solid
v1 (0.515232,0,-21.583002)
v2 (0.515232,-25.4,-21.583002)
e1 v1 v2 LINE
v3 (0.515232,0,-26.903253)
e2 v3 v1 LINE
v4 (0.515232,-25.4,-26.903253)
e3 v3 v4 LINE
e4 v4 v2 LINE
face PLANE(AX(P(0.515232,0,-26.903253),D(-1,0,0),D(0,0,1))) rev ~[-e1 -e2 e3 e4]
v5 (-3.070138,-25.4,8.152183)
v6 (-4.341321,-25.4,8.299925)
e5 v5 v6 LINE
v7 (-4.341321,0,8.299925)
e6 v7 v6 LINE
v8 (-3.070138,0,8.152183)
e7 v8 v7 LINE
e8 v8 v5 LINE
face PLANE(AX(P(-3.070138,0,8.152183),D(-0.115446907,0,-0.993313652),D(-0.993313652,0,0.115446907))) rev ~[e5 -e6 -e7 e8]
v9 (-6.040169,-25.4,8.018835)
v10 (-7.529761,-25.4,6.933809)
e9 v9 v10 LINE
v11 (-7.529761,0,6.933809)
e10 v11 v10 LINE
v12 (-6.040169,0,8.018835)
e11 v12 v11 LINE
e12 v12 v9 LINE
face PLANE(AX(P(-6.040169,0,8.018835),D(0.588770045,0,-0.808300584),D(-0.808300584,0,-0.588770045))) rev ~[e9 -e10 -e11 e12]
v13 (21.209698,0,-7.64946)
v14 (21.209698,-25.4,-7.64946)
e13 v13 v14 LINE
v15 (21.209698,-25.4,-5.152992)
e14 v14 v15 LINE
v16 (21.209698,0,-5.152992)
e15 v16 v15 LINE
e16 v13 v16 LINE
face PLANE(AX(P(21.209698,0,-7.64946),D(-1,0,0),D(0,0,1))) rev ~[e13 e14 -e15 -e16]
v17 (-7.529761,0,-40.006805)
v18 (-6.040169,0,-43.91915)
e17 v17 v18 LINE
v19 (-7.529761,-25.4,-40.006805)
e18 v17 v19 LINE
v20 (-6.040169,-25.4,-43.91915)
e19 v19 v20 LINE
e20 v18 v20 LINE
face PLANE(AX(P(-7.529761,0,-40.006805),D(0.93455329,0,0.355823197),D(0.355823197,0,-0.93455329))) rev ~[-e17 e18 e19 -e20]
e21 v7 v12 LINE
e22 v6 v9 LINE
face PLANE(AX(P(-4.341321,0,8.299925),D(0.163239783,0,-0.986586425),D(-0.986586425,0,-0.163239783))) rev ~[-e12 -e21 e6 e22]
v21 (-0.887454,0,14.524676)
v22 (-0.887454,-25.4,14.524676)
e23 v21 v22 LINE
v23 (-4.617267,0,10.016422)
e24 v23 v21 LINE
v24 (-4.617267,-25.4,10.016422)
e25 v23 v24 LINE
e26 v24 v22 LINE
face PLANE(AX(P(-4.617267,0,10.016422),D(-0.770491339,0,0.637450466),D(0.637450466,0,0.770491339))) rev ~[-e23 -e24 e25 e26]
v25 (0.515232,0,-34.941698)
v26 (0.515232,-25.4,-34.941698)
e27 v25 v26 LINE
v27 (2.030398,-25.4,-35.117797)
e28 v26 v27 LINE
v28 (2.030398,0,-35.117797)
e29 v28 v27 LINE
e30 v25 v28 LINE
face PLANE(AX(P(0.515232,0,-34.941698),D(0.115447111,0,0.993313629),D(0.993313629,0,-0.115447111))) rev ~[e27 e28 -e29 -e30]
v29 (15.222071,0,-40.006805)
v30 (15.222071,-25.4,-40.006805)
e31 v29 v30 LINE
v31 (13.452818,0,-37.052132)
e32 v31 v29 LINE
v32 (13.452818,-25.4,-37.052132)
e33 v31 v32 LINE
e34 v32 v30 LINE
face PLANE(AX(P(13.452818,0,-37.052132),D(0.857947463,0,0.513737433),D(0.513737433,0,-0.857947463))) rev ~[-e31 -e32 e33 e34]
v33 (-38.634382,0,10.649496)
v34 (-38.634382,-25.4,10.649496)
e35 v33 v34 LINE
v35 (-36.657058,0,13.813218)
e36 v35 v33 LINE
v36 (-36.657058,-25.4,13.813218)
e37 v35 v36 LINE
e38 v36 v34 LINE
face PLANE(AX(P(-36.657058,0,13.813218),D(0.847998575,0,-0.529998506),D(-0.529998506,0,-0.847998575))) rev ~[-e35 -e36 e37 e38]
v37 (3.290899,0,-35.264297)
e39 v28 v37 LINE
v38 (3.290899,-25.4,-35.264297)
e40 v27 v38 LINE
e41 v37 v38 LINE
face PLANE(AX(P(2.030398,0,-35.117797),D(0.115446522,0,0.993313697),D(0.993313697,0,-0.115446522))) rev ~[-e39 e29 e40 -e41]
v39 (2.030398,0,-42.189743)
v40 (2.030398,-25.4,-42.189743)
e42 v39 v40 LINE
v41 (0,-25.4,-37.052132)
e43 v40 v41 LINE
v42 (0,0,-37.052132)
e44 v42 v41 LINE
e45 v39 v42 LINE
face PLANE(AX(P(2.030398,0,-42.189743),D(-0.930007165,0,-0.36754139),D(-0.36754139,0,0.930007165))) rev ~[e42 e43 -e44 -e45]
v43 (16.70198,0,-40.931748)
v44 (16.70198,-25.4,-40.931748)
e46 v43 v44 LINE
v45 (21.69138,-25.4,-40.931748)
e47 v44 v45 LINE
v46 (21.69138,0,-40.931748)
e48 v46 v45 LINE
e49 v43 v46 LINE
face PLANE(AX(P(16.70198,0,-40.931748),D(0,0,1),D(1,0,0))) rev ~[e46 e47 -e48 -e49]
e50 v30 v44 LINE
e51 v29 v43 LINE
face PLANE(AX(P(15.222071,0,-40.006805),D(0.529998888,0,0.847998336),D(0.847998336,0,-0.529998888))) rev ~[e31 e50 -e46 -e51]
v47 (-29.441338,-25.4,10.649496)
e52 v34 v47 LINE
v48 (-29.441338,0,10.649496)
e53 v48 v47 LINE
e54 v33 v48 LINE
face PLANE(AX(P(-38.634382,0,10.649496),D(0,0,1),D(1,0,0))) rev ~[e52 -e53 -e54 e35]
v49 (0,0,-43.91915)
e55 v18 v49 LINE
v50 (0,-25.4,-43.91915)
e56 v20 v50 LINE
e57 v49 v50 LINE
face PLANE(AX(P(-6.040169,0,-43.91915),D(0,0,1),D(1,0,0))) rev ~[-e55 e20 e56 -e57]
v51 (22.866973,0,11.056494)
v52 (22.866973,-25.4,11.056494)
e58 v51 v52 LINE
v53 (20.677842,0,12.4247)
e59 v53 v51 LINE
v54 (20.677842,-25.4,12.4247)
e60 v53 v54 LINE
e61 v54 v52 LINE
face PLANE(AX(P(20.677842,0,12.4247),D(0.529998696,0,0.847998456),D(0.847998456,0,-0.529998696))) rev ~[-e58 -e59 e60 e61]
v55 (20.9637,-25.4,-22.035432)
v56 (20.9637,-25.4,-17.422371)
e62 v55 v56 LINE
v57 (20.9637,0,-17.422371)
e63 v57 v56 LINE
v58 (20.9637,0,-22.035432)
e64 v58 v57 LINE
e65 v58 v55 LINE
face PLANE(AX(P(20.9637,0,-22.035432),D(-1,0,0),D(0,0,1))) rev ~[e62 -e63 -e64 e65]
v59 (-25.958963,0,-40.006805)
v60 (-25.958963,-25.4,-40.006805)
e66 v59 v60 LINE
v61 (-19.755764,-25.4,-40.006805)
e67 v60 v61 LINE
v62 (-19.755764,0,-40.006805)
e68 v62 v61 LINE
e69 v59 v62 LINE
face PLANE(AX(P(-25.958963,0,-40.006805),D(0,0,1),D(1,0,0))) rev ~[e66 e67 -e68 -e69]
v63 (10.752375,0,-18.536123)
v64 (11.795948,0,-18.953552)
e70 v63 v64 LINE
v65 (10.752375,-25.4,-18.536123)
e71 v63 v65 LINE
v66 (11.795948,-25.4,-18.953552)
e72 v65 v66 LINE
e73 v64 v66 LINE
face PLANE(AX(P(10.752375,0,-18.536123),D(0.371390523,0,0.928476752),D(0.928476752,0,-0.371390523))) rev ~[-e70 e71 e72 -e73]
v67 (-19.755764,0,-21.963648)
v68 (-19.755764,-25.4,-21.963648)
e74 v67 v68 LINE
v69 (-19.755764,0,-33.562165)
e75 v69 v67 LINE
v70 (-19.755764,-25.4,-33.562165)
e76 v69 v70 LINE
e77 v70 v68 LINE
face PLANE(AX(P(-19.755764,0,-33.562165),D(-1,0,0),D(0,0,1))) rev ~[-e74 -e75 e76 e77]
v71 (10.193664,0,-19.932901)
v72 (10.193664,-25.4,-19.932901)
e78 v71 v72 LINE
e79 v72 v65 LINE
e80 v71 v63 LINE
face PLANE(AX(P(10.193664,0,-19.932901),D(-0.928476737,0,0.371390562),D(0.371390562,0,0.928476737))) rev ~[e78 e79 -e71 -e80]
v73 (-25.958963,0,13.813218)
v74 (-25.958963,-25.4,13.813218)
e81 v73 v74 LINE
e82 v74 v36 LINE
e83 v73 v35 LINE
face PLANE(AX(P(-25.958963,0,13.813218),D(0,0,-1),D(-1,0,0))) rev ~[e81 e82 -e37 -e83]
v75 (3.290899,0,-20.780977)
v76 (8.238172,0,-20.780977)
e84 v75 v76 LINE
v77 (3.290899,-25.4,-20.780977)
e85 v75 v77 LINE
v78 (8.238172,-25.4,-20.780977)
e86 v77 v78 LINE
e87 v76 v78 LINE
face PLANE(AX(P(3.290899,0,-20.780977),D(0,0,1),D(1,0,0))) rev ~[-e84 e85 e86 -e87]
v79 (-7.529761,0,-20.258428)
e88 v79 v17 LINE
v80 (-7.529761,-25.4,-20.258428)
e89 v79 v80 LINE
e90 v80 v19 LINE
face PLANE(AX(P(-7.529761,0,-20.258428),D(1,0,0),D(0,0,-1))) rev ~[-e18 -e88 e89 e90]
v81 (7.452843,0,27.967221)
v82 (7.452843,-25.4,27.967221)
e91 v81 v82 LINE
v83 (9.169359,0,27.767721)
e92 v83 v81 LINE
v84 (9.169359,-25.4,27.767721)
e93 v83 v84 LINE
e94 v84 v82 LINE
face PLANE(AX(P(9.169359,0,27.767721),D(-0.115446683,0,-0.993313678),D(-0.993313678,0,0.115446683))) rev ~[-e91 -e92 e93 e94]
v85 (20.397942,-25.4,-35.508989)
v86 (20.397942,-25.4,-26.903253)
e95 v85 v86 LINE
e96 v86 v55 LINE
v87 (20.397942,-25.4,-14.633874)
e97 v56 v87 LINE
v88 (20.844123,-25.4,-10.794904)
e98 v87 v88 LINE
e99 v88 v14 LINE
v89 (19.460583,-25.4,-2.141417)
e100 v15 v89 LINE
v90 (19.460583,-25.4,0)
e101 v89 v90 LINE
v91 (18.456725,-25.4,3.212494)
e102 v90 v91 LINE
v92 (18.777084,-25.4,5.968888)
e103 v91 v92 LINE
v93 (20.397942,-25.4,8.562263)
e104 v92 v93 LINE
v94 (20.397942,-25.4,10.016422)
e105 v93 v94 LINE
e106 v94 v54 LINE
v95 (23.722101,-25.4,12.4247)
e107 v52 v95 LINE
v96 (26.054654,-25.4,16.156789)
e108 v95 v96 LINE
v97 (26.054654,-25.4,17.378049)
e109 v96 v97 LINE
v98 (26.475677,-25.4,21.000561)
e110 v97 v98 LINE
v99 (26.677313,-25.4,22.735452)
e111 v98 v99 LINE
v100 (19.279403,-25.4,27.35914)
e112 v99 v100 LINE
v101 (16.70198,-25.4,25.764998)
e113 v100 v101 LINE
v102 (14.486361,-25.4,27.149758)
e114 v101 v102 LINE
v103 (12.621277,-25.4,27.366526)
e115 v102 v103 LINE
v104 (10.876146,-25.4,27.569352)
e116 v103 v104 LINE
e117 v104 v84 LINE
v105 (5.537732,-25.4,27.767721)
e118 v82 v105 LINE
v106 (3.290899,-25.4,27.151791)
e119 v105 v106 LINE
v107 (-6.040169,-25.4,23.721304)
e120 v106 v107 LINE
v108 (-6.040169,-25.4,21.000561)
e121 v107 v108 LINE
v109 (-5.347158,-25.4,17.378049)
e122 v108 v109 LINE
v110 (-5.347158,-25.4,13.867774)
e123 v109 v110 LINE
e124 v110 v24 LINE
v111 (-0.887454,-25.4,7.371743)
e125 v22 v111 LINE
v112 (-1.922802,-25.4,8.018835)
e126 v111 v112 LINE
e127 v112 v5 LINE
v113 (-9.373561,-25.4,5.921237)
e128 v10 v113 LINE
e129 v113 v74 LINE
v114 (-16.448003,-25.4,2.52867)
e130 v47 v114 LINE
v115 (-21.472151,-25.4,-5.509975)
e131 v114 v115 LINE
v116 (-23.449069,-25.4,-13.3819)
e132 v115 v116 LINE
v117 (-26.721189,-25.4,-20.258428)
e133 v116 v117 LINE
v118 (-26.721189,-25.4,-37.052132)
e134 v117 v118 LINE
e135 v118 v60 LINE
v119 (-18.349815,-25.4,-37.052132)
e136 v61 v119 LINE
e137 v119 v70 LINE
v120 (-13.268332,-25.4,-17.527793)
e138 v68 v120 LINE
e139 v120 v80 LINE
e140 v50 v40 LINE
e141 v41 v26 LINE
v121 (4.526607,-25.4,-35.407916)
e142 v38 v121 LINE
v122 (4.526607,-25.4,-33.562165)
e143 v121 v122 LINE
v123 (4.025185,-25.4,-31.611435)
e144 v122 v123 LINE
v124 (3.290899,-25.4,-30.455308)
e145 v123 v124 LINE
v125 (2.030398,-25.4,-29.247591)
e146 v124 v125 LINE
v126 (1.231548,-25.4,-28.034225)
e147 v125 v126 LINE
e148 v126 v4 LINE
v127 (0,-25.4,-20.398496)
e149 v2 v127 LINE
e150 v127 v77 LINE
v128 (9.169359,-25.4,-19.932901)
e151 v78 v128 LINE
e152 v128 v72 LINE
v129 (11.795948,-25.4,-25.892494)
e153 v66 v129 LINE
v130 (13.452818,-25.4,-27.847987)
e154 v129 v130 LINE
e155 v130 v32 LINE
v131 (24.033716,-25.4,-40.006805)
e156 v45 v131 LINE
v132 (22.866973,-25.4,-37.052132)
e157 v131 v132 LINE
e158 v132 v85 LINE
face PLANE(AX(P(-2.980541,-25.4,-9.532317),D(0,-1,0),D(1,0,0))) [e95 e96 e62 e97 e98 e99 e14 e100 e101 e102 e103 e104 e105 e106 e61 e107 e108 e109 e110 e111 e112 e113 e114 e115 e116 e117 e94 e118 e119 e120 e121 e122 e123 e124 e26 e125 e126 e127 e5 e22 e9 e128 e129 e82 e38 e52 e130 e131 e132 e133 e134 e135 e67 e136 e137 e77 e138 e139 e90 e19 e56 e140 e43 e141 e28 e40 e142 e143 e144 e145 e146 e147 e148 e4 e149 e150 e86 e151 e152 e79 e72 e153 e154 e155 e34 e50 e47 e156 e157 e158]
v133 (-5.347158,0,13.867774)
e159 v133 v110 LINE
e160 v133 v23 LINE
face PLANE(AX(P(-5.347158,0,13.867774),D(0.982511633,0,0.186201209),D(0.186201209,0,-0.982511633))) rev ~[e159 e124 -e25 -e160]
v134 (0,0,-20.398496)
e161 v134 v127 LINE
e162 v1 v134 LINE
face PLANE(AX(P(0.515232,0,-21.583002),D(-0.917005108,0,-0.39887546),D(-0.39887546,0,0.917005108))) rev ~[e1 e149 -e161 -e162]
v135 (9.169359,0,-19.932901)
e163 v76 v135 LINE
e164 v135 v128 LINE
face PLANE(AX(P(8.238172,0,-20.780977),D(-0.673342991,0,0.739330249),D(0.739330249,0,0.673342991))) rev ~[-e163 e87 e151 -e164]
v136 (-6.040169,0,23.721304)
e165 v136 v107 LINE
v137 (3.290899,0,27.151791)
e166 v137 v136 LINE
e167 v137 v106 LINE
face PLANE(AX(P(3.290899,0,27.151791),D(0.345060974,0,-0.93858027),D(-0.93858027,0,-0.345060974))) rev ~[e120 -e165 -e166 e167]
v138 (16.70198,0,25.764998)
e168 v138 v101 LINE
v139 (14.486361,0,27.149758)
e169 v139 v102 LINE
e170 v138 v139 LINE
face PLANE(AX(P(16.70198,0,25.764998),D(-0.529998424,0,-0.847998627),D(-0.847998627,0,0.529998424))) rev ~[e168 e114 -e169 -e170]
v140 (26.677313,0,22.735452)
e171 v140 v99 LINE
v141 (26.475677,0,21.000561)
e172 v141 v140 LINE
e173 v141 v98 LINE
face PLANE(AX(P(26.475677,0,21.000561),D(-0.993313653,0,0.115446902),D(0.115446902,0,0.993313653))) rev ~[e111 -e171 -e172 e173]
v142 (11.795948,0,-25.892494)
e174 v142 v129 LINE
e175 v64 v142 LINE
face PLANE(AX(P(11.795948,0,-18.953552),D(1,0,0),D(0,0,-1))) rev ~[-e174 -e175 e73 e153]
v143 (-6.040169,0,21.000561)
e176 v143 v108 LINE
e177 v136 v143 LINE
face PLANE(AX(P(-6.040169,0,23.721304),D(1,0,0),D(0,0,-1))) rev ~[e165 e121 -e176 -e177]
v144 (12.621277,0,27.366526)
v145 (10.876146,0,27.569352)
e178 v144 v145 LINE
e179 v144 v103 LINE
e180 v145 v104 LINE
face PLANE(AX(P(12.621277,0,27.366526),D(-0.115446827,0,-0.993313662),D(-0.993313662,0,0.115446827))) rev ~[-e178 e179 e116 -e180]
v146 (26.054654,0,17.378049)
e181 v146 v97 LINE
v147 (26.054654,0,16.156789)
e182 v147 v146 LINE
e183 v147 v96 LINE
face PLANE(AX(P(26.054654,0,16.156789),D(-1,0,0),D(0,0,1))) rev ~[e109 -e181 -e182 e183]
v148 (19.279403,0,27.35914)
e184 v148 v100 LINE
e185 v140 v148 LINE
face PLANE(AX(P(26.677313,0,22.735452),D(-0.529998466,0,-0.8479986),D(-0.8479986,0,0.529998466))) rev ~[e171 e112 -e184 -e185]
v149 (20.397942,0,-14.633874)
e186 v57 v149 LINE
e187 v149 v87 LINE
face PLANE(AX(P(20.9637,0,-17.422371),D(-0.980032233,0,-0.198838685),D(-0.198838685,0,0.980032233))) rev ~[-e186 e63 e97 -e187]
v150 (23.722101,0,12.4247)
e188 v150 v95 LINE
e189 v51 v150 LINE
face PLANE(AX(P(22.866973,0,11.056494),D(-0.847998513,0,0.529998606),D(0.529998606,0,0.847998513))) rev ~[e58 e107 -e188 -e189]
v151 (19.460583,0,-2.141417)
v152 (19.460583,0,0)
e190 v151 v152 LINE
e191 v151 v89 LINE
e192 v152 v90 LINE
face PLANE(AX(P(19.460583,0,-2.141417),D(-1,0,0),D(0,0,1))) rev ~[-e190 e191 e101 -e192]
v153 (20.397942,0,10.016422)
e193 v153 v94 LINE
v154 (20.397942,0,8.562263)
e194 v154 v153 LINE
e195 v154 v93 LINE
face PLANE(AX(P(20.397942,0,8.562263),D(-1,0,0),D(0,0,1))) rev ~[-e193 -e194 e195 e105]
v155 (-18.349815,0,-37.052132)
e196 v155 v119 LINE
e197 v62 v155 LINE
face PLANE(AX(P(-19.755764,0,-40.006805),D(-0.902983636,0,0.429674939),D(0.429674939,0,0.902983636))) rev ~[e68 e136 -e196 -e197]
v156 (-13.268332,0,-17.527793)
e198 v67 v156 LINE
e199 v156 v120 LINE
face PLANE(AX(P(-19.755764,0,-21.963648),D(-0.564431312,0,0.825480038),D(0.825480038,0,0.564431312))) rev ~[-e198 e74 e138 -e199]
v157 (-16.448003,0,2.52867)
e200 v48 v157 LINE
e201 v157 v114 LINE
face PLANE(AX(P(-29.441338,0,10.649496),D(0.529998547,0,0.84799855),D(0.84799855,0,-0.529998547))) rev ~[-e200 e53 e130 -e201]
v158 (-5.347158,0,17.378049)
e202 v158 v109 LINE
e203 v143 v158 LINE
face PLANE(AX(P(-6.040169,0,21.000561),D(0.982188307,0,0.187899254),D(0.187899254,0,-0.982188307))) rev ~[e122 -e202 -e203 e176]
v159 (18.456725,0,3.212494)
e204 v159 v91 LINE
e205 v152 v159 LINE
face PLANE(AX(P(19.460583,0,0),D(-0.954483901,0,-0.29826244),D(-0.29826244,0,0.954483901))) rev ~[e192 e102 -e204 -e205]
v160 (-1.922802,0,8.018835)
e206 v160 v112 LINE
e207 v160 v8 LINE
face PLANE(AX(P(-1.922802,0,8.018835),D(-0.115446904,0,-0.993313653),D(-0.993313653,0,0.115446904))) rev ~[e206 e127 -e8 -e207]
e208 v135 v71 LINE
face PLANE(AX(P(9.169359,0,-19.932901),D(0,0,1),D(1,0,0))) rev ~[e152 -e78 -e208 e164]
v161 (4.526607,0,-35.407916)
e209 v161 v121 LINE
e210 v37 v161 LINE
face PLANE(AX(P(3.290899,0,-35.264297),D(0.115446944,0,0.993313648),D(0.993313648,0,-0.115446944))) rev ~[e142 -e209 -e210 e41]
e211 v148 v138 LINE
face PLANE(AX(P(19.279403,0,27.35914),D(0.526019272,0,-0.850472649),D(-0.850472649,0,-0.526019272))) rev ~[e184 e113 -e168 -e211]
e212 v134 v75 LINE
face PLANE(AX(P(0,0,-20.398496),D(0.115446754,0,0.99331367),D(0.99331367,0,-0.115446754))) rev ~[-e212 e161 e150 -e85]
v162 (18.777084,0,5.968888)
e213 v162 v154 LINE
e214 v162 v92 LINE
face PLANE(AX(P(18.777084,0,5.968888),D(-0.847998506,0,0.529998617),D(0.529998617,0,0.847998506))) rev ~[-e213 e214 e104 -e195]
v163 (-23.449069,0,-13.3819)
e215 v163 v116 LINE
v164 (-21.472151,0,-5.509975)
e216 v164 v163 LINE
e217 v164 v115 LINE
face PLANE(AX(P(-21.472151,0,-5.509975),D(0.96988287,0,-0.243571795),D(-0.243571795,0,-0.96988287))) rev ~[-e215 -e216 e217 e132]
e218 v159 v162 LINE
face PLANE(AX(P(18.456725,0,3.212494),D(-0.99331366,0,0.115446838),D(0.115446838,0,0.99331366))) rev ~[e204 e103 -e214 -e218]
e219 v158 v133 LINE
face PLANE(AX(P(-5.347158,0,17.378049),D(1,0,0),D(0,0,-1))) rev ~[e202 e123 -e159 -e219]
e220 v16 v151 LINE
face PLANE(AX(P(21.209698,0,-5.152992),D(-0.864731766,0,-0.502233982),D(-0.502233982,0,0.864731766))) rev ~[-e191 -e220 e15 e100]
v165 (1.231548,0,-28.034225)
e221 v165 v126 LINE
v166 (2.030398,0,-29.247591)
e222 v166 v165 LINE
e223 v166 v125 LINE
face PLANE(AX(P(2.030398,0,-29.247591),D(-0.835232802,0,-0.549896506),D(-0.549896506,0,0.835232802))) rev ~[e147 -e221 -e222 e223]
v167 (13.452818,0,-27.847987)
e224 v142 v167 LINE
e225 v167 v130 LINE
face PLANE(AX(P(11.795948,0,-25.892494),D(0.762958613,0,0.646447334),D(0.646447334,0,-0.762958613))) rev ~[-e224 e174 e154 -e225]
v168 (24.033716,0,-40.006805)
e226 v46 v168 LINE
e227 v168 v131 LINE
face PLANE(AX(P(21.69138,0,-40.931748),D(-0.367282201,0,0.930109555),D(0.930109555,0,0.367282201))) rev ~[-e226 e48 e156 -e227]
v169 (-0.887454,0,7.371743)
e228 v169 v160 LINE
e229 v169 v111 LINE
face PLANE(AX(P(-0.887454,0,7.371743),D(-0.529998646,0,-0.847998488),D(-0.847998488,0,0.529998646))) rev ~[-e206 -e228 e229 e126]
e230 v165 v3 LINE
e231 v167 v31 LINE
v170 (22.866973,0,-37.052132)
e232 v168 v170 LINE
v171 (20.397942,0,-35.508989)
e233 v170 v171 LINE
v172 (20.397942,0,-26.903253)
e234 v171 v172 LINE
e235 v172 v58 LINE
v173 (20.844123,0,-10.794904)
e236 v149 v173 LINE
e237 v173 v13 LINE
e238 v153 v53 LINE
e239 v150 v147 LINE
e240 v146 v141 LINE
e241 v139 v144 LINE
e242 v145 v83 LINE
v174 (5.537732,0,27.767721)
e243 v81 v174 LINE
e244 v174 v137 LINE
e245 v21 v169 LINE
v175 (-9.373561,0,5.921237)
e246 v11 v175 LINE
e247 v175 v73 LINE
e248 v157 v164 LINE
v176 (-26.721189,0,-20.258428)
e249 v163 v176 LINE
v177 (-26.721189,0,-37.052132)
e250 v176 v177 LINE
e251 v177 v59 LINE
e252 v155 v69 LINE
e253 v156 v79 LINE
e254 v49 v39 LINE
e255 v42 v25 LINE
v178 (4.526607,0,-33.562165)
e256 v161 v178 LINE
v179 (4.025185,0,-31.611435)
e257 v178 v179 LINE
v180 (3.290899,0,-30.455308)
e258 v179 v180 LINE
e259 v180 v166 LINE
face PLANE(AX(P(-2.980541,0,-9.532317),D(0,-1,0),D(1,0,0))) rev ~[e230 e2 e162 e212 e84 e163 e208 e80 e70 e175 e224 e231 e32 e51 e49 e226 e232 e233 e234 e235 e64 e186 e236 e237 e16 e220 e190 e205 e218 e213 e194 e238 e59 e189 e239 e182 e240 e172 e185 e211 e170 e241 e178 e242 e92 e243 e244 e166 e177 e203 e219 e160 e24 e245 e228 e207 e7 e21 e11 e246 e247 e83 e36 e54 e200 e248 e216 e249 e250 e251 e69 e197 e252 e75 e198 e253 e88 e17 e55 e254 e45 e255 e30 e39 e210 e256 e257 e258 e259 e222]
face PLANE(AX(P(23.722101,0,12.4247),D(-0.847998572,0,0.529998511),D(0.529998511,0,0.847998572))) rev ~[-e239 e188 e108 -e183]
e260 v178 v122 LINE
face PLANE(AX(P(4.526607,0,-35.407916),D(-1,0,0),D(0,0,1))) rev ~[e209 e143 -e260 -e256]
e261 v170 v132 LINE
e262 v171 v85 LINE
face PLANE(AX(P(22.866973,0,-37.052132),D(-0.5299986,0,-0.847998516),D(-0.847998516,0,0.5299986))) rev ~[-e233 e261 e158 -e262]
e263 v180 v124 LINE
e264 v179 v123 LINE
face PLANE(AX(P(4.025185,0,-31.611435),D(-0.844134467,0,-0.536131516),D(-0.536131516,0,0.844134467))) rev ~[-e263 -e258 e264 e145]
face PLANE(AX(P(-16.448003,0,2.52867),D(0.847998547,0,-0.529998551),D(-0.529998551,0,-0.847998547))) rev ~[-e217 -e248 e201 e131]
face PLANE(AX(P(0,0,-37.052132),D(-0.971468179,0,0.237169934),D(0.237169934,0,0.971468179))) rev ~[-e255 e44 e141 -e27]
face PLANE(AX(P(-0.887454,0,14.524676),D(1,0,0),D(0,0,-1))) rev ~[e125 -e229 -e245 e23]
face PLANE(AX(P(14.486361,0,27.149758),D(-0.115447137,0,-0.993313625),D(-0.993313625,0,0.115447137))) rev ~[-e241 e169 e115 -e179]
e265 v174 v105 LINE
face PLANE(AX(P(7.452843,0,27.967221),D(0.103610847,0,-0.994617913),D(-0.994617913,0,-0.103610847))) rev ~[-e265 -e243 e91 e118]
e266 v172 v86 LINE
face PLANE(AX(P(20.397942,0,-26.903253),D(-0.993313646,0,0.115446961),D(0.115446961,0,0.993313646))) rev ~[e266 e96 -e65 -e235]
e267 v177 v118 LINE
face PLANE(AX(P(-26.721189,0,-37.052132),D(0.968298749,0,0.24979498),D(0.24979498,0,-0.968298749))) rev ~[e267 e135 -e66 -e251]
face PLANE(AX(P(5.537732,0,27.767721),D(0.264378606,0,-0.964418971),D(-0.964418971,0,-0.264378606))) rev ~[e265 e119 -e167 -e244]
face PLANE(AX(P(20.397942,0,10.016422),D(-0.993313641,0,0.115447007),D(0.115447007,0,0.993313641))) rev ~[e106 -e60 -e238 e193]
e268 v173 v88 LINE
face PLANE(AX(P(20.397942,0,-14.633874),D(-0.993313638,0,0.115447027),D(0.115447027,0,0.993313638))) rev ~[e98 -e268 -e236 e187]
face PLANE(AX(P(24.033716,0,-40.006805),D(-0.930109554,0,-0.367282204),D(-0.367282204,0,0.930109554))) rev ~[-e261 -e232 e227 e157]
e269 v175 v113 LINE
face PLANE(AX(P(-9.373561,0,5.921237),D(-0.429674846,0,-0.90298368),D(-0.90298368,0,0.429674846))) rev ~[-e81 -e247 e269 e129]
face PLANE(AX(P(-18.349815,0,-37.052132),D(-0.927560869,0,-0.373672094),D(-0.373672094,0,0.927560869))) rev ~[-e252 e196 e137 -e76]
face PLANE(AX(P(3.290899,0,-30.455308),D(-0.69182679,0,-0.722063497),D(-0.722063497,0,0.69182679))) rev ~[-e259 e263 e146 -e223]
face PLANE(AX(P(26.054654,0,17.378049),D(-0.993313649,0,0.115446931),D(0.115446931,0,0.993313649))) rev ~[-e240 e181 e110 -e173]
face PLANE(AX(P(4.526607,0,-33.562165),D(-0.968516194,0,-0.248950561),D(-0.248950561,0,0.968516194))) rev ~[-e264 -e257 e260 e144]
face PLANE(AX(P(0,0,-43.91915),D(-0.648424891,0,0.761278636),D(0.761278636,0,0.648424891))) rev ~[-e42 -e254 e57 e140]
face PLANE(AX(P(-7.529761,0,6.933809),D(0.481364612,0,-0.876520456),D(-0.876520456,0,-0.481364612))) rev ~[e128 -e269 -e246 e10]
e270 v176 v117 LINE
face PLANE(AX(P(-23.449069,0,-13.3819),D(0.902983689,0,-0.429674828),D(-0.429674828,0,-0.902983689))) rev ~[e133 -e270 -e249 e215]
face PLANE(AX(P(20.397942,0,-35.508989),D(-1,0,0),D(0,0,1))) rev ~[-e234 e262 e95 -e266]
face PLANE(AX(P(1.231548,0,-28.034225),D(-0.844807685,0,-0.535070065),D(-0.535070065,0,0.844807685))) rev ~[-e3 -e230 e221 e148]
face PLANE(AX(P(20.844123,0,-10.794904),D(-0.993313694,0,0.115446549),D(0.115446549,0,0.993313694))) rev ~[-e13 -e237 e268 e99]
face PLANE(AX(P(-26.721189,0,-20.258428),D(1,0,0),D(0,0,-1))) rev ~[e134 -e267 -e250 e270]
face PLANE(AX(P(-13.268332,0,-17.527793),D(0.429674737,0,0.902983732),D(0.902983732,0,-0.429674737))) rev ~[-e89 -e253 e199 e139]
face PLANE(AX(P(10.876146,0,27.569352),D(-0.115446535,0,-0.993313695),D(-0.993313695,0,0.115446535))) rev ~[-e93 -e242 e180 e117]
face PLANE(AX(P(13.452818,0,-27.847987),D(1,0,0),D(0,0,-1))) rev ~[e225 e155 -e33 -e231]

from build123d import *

# Parameters (mm, degrees)
F1_DEPTH = 25.4


with BuildPart() as f1:
    # F0 (on Front) → F1 (new body)
    with BuildSketch(Plane.XZ):
        Polygon((-36.657058, 13.813218), (-38.634382, 10.649496), (-29.441338, 10.649496), (-16.448003, 2.52867), (-21.472151, -5.509975), (-23.449069, -13.3819), (-26.721189, -20.258428), (-26.721189, -24.452301), (-26.721189, -37.052132), (-25.958963, -40.006805), (-19.755764, -40.006805), (-18.349815, -37.052132), (-19.755764, -33.562165), (-19.755764, -28.500162), (-19.755764, -21.963648), (-13.268332, -17.527793), (-7.529761, -20.258428), (-7.529761, -37.052132), (-7.529761, -40.006805), (-6.040169, -43.91915), (0, -43.91915), (2.030398, -42.189743), (0, -37.052132), (-0.887454, -32.503918), (-0.887454, -30.455308), (-0.887454, -28.034225), (0, -20.398496), (3.290899, -20.780977), (5.537732, -20.780977), (7.213868, -20.780977), (8.238172, -20.780977), (9.169359, -19.932901), (10.193664, -19.932901), (10.752375, -18.536123), (11.795948, -18.953552), (11.795948, -25.892494), (13.452818, -27.847987), (13.452818, -37.052132), (15.222071, -40.006805), (16.70198, -40.931748), (21.69138, -40.931748), (24.033716, -40.006805), (22.866973, -37.052132), (20.397942, -35.508989), (20.397942, -32.503918), (20.397942, -26.903253), (20.9637, -22.035432), (20.9637, -17.422371), (20.397942, -14.633874), (20.844123, -10.794904), (21.209698, -7.64946), (21.209698, -5.152992), (19.460583, -2.141417), (19.460583, 0), (18.456725, 3.212494), (18.777084, 5.968888), (20.397942, 8.562263), (20.397942, 10.016422), (20.677842, 12.4247), (22.866973, 11.056494), (23.722101, 12.4247), (26.054654, 16.156789), (26.054654, 17.378049), (26.475677, 21.000561), (26.677313, 22.735452), (19.279403, 27.35914), (16.70198, 25.764998), (14.486361, 27.149758), (12.621277, 27.366526), (10.876146, 27.569352), (9.169359, 27.767721), (7.452843, 27.967221), (5.537732, 27.767721), (3.290899, 27.151791), (-6.040169, 23.721304), (-6.040169, 21.000561), (-5.347158, 17.378049), (-5.347158, 13.867774), (-4.617267, 10.016422), (-0.887454, 14.524676), (-0.887454, 7.371743), (-1.922802, 8.018835), (-3.070138, 8.152183), (-4.341321, 8.299925), (-6.040169, 8.018835), (-7.529761, 6.933809), (-9.373561, 5.921237), (-25.958963, 13.813218), align=None)
        Polygon((-0.887454, -32.503918), (0, -37.052132), (0.515232, -34.941698), (2.030398, -35.117797), (3.290899, -35.264297), (4.526607, -35.407916), (4.526607, -34.476705), (4.526607, -33.562165), (4.025185, -31.611435), (3.290899, -30.455308), (2.030398, -29.247591), (1.231548, -28.034225), (0.515232, -26.903253), (0.515232, -24.878059), (0.515232, -23.517057), (0.515232, -21.583002), (0, -20.398496), (-0.887454, -28.034225), (-0.887454, -30.455308), align=None)
    extrude(amount=F1_DEPTH)


solid = f1.part
